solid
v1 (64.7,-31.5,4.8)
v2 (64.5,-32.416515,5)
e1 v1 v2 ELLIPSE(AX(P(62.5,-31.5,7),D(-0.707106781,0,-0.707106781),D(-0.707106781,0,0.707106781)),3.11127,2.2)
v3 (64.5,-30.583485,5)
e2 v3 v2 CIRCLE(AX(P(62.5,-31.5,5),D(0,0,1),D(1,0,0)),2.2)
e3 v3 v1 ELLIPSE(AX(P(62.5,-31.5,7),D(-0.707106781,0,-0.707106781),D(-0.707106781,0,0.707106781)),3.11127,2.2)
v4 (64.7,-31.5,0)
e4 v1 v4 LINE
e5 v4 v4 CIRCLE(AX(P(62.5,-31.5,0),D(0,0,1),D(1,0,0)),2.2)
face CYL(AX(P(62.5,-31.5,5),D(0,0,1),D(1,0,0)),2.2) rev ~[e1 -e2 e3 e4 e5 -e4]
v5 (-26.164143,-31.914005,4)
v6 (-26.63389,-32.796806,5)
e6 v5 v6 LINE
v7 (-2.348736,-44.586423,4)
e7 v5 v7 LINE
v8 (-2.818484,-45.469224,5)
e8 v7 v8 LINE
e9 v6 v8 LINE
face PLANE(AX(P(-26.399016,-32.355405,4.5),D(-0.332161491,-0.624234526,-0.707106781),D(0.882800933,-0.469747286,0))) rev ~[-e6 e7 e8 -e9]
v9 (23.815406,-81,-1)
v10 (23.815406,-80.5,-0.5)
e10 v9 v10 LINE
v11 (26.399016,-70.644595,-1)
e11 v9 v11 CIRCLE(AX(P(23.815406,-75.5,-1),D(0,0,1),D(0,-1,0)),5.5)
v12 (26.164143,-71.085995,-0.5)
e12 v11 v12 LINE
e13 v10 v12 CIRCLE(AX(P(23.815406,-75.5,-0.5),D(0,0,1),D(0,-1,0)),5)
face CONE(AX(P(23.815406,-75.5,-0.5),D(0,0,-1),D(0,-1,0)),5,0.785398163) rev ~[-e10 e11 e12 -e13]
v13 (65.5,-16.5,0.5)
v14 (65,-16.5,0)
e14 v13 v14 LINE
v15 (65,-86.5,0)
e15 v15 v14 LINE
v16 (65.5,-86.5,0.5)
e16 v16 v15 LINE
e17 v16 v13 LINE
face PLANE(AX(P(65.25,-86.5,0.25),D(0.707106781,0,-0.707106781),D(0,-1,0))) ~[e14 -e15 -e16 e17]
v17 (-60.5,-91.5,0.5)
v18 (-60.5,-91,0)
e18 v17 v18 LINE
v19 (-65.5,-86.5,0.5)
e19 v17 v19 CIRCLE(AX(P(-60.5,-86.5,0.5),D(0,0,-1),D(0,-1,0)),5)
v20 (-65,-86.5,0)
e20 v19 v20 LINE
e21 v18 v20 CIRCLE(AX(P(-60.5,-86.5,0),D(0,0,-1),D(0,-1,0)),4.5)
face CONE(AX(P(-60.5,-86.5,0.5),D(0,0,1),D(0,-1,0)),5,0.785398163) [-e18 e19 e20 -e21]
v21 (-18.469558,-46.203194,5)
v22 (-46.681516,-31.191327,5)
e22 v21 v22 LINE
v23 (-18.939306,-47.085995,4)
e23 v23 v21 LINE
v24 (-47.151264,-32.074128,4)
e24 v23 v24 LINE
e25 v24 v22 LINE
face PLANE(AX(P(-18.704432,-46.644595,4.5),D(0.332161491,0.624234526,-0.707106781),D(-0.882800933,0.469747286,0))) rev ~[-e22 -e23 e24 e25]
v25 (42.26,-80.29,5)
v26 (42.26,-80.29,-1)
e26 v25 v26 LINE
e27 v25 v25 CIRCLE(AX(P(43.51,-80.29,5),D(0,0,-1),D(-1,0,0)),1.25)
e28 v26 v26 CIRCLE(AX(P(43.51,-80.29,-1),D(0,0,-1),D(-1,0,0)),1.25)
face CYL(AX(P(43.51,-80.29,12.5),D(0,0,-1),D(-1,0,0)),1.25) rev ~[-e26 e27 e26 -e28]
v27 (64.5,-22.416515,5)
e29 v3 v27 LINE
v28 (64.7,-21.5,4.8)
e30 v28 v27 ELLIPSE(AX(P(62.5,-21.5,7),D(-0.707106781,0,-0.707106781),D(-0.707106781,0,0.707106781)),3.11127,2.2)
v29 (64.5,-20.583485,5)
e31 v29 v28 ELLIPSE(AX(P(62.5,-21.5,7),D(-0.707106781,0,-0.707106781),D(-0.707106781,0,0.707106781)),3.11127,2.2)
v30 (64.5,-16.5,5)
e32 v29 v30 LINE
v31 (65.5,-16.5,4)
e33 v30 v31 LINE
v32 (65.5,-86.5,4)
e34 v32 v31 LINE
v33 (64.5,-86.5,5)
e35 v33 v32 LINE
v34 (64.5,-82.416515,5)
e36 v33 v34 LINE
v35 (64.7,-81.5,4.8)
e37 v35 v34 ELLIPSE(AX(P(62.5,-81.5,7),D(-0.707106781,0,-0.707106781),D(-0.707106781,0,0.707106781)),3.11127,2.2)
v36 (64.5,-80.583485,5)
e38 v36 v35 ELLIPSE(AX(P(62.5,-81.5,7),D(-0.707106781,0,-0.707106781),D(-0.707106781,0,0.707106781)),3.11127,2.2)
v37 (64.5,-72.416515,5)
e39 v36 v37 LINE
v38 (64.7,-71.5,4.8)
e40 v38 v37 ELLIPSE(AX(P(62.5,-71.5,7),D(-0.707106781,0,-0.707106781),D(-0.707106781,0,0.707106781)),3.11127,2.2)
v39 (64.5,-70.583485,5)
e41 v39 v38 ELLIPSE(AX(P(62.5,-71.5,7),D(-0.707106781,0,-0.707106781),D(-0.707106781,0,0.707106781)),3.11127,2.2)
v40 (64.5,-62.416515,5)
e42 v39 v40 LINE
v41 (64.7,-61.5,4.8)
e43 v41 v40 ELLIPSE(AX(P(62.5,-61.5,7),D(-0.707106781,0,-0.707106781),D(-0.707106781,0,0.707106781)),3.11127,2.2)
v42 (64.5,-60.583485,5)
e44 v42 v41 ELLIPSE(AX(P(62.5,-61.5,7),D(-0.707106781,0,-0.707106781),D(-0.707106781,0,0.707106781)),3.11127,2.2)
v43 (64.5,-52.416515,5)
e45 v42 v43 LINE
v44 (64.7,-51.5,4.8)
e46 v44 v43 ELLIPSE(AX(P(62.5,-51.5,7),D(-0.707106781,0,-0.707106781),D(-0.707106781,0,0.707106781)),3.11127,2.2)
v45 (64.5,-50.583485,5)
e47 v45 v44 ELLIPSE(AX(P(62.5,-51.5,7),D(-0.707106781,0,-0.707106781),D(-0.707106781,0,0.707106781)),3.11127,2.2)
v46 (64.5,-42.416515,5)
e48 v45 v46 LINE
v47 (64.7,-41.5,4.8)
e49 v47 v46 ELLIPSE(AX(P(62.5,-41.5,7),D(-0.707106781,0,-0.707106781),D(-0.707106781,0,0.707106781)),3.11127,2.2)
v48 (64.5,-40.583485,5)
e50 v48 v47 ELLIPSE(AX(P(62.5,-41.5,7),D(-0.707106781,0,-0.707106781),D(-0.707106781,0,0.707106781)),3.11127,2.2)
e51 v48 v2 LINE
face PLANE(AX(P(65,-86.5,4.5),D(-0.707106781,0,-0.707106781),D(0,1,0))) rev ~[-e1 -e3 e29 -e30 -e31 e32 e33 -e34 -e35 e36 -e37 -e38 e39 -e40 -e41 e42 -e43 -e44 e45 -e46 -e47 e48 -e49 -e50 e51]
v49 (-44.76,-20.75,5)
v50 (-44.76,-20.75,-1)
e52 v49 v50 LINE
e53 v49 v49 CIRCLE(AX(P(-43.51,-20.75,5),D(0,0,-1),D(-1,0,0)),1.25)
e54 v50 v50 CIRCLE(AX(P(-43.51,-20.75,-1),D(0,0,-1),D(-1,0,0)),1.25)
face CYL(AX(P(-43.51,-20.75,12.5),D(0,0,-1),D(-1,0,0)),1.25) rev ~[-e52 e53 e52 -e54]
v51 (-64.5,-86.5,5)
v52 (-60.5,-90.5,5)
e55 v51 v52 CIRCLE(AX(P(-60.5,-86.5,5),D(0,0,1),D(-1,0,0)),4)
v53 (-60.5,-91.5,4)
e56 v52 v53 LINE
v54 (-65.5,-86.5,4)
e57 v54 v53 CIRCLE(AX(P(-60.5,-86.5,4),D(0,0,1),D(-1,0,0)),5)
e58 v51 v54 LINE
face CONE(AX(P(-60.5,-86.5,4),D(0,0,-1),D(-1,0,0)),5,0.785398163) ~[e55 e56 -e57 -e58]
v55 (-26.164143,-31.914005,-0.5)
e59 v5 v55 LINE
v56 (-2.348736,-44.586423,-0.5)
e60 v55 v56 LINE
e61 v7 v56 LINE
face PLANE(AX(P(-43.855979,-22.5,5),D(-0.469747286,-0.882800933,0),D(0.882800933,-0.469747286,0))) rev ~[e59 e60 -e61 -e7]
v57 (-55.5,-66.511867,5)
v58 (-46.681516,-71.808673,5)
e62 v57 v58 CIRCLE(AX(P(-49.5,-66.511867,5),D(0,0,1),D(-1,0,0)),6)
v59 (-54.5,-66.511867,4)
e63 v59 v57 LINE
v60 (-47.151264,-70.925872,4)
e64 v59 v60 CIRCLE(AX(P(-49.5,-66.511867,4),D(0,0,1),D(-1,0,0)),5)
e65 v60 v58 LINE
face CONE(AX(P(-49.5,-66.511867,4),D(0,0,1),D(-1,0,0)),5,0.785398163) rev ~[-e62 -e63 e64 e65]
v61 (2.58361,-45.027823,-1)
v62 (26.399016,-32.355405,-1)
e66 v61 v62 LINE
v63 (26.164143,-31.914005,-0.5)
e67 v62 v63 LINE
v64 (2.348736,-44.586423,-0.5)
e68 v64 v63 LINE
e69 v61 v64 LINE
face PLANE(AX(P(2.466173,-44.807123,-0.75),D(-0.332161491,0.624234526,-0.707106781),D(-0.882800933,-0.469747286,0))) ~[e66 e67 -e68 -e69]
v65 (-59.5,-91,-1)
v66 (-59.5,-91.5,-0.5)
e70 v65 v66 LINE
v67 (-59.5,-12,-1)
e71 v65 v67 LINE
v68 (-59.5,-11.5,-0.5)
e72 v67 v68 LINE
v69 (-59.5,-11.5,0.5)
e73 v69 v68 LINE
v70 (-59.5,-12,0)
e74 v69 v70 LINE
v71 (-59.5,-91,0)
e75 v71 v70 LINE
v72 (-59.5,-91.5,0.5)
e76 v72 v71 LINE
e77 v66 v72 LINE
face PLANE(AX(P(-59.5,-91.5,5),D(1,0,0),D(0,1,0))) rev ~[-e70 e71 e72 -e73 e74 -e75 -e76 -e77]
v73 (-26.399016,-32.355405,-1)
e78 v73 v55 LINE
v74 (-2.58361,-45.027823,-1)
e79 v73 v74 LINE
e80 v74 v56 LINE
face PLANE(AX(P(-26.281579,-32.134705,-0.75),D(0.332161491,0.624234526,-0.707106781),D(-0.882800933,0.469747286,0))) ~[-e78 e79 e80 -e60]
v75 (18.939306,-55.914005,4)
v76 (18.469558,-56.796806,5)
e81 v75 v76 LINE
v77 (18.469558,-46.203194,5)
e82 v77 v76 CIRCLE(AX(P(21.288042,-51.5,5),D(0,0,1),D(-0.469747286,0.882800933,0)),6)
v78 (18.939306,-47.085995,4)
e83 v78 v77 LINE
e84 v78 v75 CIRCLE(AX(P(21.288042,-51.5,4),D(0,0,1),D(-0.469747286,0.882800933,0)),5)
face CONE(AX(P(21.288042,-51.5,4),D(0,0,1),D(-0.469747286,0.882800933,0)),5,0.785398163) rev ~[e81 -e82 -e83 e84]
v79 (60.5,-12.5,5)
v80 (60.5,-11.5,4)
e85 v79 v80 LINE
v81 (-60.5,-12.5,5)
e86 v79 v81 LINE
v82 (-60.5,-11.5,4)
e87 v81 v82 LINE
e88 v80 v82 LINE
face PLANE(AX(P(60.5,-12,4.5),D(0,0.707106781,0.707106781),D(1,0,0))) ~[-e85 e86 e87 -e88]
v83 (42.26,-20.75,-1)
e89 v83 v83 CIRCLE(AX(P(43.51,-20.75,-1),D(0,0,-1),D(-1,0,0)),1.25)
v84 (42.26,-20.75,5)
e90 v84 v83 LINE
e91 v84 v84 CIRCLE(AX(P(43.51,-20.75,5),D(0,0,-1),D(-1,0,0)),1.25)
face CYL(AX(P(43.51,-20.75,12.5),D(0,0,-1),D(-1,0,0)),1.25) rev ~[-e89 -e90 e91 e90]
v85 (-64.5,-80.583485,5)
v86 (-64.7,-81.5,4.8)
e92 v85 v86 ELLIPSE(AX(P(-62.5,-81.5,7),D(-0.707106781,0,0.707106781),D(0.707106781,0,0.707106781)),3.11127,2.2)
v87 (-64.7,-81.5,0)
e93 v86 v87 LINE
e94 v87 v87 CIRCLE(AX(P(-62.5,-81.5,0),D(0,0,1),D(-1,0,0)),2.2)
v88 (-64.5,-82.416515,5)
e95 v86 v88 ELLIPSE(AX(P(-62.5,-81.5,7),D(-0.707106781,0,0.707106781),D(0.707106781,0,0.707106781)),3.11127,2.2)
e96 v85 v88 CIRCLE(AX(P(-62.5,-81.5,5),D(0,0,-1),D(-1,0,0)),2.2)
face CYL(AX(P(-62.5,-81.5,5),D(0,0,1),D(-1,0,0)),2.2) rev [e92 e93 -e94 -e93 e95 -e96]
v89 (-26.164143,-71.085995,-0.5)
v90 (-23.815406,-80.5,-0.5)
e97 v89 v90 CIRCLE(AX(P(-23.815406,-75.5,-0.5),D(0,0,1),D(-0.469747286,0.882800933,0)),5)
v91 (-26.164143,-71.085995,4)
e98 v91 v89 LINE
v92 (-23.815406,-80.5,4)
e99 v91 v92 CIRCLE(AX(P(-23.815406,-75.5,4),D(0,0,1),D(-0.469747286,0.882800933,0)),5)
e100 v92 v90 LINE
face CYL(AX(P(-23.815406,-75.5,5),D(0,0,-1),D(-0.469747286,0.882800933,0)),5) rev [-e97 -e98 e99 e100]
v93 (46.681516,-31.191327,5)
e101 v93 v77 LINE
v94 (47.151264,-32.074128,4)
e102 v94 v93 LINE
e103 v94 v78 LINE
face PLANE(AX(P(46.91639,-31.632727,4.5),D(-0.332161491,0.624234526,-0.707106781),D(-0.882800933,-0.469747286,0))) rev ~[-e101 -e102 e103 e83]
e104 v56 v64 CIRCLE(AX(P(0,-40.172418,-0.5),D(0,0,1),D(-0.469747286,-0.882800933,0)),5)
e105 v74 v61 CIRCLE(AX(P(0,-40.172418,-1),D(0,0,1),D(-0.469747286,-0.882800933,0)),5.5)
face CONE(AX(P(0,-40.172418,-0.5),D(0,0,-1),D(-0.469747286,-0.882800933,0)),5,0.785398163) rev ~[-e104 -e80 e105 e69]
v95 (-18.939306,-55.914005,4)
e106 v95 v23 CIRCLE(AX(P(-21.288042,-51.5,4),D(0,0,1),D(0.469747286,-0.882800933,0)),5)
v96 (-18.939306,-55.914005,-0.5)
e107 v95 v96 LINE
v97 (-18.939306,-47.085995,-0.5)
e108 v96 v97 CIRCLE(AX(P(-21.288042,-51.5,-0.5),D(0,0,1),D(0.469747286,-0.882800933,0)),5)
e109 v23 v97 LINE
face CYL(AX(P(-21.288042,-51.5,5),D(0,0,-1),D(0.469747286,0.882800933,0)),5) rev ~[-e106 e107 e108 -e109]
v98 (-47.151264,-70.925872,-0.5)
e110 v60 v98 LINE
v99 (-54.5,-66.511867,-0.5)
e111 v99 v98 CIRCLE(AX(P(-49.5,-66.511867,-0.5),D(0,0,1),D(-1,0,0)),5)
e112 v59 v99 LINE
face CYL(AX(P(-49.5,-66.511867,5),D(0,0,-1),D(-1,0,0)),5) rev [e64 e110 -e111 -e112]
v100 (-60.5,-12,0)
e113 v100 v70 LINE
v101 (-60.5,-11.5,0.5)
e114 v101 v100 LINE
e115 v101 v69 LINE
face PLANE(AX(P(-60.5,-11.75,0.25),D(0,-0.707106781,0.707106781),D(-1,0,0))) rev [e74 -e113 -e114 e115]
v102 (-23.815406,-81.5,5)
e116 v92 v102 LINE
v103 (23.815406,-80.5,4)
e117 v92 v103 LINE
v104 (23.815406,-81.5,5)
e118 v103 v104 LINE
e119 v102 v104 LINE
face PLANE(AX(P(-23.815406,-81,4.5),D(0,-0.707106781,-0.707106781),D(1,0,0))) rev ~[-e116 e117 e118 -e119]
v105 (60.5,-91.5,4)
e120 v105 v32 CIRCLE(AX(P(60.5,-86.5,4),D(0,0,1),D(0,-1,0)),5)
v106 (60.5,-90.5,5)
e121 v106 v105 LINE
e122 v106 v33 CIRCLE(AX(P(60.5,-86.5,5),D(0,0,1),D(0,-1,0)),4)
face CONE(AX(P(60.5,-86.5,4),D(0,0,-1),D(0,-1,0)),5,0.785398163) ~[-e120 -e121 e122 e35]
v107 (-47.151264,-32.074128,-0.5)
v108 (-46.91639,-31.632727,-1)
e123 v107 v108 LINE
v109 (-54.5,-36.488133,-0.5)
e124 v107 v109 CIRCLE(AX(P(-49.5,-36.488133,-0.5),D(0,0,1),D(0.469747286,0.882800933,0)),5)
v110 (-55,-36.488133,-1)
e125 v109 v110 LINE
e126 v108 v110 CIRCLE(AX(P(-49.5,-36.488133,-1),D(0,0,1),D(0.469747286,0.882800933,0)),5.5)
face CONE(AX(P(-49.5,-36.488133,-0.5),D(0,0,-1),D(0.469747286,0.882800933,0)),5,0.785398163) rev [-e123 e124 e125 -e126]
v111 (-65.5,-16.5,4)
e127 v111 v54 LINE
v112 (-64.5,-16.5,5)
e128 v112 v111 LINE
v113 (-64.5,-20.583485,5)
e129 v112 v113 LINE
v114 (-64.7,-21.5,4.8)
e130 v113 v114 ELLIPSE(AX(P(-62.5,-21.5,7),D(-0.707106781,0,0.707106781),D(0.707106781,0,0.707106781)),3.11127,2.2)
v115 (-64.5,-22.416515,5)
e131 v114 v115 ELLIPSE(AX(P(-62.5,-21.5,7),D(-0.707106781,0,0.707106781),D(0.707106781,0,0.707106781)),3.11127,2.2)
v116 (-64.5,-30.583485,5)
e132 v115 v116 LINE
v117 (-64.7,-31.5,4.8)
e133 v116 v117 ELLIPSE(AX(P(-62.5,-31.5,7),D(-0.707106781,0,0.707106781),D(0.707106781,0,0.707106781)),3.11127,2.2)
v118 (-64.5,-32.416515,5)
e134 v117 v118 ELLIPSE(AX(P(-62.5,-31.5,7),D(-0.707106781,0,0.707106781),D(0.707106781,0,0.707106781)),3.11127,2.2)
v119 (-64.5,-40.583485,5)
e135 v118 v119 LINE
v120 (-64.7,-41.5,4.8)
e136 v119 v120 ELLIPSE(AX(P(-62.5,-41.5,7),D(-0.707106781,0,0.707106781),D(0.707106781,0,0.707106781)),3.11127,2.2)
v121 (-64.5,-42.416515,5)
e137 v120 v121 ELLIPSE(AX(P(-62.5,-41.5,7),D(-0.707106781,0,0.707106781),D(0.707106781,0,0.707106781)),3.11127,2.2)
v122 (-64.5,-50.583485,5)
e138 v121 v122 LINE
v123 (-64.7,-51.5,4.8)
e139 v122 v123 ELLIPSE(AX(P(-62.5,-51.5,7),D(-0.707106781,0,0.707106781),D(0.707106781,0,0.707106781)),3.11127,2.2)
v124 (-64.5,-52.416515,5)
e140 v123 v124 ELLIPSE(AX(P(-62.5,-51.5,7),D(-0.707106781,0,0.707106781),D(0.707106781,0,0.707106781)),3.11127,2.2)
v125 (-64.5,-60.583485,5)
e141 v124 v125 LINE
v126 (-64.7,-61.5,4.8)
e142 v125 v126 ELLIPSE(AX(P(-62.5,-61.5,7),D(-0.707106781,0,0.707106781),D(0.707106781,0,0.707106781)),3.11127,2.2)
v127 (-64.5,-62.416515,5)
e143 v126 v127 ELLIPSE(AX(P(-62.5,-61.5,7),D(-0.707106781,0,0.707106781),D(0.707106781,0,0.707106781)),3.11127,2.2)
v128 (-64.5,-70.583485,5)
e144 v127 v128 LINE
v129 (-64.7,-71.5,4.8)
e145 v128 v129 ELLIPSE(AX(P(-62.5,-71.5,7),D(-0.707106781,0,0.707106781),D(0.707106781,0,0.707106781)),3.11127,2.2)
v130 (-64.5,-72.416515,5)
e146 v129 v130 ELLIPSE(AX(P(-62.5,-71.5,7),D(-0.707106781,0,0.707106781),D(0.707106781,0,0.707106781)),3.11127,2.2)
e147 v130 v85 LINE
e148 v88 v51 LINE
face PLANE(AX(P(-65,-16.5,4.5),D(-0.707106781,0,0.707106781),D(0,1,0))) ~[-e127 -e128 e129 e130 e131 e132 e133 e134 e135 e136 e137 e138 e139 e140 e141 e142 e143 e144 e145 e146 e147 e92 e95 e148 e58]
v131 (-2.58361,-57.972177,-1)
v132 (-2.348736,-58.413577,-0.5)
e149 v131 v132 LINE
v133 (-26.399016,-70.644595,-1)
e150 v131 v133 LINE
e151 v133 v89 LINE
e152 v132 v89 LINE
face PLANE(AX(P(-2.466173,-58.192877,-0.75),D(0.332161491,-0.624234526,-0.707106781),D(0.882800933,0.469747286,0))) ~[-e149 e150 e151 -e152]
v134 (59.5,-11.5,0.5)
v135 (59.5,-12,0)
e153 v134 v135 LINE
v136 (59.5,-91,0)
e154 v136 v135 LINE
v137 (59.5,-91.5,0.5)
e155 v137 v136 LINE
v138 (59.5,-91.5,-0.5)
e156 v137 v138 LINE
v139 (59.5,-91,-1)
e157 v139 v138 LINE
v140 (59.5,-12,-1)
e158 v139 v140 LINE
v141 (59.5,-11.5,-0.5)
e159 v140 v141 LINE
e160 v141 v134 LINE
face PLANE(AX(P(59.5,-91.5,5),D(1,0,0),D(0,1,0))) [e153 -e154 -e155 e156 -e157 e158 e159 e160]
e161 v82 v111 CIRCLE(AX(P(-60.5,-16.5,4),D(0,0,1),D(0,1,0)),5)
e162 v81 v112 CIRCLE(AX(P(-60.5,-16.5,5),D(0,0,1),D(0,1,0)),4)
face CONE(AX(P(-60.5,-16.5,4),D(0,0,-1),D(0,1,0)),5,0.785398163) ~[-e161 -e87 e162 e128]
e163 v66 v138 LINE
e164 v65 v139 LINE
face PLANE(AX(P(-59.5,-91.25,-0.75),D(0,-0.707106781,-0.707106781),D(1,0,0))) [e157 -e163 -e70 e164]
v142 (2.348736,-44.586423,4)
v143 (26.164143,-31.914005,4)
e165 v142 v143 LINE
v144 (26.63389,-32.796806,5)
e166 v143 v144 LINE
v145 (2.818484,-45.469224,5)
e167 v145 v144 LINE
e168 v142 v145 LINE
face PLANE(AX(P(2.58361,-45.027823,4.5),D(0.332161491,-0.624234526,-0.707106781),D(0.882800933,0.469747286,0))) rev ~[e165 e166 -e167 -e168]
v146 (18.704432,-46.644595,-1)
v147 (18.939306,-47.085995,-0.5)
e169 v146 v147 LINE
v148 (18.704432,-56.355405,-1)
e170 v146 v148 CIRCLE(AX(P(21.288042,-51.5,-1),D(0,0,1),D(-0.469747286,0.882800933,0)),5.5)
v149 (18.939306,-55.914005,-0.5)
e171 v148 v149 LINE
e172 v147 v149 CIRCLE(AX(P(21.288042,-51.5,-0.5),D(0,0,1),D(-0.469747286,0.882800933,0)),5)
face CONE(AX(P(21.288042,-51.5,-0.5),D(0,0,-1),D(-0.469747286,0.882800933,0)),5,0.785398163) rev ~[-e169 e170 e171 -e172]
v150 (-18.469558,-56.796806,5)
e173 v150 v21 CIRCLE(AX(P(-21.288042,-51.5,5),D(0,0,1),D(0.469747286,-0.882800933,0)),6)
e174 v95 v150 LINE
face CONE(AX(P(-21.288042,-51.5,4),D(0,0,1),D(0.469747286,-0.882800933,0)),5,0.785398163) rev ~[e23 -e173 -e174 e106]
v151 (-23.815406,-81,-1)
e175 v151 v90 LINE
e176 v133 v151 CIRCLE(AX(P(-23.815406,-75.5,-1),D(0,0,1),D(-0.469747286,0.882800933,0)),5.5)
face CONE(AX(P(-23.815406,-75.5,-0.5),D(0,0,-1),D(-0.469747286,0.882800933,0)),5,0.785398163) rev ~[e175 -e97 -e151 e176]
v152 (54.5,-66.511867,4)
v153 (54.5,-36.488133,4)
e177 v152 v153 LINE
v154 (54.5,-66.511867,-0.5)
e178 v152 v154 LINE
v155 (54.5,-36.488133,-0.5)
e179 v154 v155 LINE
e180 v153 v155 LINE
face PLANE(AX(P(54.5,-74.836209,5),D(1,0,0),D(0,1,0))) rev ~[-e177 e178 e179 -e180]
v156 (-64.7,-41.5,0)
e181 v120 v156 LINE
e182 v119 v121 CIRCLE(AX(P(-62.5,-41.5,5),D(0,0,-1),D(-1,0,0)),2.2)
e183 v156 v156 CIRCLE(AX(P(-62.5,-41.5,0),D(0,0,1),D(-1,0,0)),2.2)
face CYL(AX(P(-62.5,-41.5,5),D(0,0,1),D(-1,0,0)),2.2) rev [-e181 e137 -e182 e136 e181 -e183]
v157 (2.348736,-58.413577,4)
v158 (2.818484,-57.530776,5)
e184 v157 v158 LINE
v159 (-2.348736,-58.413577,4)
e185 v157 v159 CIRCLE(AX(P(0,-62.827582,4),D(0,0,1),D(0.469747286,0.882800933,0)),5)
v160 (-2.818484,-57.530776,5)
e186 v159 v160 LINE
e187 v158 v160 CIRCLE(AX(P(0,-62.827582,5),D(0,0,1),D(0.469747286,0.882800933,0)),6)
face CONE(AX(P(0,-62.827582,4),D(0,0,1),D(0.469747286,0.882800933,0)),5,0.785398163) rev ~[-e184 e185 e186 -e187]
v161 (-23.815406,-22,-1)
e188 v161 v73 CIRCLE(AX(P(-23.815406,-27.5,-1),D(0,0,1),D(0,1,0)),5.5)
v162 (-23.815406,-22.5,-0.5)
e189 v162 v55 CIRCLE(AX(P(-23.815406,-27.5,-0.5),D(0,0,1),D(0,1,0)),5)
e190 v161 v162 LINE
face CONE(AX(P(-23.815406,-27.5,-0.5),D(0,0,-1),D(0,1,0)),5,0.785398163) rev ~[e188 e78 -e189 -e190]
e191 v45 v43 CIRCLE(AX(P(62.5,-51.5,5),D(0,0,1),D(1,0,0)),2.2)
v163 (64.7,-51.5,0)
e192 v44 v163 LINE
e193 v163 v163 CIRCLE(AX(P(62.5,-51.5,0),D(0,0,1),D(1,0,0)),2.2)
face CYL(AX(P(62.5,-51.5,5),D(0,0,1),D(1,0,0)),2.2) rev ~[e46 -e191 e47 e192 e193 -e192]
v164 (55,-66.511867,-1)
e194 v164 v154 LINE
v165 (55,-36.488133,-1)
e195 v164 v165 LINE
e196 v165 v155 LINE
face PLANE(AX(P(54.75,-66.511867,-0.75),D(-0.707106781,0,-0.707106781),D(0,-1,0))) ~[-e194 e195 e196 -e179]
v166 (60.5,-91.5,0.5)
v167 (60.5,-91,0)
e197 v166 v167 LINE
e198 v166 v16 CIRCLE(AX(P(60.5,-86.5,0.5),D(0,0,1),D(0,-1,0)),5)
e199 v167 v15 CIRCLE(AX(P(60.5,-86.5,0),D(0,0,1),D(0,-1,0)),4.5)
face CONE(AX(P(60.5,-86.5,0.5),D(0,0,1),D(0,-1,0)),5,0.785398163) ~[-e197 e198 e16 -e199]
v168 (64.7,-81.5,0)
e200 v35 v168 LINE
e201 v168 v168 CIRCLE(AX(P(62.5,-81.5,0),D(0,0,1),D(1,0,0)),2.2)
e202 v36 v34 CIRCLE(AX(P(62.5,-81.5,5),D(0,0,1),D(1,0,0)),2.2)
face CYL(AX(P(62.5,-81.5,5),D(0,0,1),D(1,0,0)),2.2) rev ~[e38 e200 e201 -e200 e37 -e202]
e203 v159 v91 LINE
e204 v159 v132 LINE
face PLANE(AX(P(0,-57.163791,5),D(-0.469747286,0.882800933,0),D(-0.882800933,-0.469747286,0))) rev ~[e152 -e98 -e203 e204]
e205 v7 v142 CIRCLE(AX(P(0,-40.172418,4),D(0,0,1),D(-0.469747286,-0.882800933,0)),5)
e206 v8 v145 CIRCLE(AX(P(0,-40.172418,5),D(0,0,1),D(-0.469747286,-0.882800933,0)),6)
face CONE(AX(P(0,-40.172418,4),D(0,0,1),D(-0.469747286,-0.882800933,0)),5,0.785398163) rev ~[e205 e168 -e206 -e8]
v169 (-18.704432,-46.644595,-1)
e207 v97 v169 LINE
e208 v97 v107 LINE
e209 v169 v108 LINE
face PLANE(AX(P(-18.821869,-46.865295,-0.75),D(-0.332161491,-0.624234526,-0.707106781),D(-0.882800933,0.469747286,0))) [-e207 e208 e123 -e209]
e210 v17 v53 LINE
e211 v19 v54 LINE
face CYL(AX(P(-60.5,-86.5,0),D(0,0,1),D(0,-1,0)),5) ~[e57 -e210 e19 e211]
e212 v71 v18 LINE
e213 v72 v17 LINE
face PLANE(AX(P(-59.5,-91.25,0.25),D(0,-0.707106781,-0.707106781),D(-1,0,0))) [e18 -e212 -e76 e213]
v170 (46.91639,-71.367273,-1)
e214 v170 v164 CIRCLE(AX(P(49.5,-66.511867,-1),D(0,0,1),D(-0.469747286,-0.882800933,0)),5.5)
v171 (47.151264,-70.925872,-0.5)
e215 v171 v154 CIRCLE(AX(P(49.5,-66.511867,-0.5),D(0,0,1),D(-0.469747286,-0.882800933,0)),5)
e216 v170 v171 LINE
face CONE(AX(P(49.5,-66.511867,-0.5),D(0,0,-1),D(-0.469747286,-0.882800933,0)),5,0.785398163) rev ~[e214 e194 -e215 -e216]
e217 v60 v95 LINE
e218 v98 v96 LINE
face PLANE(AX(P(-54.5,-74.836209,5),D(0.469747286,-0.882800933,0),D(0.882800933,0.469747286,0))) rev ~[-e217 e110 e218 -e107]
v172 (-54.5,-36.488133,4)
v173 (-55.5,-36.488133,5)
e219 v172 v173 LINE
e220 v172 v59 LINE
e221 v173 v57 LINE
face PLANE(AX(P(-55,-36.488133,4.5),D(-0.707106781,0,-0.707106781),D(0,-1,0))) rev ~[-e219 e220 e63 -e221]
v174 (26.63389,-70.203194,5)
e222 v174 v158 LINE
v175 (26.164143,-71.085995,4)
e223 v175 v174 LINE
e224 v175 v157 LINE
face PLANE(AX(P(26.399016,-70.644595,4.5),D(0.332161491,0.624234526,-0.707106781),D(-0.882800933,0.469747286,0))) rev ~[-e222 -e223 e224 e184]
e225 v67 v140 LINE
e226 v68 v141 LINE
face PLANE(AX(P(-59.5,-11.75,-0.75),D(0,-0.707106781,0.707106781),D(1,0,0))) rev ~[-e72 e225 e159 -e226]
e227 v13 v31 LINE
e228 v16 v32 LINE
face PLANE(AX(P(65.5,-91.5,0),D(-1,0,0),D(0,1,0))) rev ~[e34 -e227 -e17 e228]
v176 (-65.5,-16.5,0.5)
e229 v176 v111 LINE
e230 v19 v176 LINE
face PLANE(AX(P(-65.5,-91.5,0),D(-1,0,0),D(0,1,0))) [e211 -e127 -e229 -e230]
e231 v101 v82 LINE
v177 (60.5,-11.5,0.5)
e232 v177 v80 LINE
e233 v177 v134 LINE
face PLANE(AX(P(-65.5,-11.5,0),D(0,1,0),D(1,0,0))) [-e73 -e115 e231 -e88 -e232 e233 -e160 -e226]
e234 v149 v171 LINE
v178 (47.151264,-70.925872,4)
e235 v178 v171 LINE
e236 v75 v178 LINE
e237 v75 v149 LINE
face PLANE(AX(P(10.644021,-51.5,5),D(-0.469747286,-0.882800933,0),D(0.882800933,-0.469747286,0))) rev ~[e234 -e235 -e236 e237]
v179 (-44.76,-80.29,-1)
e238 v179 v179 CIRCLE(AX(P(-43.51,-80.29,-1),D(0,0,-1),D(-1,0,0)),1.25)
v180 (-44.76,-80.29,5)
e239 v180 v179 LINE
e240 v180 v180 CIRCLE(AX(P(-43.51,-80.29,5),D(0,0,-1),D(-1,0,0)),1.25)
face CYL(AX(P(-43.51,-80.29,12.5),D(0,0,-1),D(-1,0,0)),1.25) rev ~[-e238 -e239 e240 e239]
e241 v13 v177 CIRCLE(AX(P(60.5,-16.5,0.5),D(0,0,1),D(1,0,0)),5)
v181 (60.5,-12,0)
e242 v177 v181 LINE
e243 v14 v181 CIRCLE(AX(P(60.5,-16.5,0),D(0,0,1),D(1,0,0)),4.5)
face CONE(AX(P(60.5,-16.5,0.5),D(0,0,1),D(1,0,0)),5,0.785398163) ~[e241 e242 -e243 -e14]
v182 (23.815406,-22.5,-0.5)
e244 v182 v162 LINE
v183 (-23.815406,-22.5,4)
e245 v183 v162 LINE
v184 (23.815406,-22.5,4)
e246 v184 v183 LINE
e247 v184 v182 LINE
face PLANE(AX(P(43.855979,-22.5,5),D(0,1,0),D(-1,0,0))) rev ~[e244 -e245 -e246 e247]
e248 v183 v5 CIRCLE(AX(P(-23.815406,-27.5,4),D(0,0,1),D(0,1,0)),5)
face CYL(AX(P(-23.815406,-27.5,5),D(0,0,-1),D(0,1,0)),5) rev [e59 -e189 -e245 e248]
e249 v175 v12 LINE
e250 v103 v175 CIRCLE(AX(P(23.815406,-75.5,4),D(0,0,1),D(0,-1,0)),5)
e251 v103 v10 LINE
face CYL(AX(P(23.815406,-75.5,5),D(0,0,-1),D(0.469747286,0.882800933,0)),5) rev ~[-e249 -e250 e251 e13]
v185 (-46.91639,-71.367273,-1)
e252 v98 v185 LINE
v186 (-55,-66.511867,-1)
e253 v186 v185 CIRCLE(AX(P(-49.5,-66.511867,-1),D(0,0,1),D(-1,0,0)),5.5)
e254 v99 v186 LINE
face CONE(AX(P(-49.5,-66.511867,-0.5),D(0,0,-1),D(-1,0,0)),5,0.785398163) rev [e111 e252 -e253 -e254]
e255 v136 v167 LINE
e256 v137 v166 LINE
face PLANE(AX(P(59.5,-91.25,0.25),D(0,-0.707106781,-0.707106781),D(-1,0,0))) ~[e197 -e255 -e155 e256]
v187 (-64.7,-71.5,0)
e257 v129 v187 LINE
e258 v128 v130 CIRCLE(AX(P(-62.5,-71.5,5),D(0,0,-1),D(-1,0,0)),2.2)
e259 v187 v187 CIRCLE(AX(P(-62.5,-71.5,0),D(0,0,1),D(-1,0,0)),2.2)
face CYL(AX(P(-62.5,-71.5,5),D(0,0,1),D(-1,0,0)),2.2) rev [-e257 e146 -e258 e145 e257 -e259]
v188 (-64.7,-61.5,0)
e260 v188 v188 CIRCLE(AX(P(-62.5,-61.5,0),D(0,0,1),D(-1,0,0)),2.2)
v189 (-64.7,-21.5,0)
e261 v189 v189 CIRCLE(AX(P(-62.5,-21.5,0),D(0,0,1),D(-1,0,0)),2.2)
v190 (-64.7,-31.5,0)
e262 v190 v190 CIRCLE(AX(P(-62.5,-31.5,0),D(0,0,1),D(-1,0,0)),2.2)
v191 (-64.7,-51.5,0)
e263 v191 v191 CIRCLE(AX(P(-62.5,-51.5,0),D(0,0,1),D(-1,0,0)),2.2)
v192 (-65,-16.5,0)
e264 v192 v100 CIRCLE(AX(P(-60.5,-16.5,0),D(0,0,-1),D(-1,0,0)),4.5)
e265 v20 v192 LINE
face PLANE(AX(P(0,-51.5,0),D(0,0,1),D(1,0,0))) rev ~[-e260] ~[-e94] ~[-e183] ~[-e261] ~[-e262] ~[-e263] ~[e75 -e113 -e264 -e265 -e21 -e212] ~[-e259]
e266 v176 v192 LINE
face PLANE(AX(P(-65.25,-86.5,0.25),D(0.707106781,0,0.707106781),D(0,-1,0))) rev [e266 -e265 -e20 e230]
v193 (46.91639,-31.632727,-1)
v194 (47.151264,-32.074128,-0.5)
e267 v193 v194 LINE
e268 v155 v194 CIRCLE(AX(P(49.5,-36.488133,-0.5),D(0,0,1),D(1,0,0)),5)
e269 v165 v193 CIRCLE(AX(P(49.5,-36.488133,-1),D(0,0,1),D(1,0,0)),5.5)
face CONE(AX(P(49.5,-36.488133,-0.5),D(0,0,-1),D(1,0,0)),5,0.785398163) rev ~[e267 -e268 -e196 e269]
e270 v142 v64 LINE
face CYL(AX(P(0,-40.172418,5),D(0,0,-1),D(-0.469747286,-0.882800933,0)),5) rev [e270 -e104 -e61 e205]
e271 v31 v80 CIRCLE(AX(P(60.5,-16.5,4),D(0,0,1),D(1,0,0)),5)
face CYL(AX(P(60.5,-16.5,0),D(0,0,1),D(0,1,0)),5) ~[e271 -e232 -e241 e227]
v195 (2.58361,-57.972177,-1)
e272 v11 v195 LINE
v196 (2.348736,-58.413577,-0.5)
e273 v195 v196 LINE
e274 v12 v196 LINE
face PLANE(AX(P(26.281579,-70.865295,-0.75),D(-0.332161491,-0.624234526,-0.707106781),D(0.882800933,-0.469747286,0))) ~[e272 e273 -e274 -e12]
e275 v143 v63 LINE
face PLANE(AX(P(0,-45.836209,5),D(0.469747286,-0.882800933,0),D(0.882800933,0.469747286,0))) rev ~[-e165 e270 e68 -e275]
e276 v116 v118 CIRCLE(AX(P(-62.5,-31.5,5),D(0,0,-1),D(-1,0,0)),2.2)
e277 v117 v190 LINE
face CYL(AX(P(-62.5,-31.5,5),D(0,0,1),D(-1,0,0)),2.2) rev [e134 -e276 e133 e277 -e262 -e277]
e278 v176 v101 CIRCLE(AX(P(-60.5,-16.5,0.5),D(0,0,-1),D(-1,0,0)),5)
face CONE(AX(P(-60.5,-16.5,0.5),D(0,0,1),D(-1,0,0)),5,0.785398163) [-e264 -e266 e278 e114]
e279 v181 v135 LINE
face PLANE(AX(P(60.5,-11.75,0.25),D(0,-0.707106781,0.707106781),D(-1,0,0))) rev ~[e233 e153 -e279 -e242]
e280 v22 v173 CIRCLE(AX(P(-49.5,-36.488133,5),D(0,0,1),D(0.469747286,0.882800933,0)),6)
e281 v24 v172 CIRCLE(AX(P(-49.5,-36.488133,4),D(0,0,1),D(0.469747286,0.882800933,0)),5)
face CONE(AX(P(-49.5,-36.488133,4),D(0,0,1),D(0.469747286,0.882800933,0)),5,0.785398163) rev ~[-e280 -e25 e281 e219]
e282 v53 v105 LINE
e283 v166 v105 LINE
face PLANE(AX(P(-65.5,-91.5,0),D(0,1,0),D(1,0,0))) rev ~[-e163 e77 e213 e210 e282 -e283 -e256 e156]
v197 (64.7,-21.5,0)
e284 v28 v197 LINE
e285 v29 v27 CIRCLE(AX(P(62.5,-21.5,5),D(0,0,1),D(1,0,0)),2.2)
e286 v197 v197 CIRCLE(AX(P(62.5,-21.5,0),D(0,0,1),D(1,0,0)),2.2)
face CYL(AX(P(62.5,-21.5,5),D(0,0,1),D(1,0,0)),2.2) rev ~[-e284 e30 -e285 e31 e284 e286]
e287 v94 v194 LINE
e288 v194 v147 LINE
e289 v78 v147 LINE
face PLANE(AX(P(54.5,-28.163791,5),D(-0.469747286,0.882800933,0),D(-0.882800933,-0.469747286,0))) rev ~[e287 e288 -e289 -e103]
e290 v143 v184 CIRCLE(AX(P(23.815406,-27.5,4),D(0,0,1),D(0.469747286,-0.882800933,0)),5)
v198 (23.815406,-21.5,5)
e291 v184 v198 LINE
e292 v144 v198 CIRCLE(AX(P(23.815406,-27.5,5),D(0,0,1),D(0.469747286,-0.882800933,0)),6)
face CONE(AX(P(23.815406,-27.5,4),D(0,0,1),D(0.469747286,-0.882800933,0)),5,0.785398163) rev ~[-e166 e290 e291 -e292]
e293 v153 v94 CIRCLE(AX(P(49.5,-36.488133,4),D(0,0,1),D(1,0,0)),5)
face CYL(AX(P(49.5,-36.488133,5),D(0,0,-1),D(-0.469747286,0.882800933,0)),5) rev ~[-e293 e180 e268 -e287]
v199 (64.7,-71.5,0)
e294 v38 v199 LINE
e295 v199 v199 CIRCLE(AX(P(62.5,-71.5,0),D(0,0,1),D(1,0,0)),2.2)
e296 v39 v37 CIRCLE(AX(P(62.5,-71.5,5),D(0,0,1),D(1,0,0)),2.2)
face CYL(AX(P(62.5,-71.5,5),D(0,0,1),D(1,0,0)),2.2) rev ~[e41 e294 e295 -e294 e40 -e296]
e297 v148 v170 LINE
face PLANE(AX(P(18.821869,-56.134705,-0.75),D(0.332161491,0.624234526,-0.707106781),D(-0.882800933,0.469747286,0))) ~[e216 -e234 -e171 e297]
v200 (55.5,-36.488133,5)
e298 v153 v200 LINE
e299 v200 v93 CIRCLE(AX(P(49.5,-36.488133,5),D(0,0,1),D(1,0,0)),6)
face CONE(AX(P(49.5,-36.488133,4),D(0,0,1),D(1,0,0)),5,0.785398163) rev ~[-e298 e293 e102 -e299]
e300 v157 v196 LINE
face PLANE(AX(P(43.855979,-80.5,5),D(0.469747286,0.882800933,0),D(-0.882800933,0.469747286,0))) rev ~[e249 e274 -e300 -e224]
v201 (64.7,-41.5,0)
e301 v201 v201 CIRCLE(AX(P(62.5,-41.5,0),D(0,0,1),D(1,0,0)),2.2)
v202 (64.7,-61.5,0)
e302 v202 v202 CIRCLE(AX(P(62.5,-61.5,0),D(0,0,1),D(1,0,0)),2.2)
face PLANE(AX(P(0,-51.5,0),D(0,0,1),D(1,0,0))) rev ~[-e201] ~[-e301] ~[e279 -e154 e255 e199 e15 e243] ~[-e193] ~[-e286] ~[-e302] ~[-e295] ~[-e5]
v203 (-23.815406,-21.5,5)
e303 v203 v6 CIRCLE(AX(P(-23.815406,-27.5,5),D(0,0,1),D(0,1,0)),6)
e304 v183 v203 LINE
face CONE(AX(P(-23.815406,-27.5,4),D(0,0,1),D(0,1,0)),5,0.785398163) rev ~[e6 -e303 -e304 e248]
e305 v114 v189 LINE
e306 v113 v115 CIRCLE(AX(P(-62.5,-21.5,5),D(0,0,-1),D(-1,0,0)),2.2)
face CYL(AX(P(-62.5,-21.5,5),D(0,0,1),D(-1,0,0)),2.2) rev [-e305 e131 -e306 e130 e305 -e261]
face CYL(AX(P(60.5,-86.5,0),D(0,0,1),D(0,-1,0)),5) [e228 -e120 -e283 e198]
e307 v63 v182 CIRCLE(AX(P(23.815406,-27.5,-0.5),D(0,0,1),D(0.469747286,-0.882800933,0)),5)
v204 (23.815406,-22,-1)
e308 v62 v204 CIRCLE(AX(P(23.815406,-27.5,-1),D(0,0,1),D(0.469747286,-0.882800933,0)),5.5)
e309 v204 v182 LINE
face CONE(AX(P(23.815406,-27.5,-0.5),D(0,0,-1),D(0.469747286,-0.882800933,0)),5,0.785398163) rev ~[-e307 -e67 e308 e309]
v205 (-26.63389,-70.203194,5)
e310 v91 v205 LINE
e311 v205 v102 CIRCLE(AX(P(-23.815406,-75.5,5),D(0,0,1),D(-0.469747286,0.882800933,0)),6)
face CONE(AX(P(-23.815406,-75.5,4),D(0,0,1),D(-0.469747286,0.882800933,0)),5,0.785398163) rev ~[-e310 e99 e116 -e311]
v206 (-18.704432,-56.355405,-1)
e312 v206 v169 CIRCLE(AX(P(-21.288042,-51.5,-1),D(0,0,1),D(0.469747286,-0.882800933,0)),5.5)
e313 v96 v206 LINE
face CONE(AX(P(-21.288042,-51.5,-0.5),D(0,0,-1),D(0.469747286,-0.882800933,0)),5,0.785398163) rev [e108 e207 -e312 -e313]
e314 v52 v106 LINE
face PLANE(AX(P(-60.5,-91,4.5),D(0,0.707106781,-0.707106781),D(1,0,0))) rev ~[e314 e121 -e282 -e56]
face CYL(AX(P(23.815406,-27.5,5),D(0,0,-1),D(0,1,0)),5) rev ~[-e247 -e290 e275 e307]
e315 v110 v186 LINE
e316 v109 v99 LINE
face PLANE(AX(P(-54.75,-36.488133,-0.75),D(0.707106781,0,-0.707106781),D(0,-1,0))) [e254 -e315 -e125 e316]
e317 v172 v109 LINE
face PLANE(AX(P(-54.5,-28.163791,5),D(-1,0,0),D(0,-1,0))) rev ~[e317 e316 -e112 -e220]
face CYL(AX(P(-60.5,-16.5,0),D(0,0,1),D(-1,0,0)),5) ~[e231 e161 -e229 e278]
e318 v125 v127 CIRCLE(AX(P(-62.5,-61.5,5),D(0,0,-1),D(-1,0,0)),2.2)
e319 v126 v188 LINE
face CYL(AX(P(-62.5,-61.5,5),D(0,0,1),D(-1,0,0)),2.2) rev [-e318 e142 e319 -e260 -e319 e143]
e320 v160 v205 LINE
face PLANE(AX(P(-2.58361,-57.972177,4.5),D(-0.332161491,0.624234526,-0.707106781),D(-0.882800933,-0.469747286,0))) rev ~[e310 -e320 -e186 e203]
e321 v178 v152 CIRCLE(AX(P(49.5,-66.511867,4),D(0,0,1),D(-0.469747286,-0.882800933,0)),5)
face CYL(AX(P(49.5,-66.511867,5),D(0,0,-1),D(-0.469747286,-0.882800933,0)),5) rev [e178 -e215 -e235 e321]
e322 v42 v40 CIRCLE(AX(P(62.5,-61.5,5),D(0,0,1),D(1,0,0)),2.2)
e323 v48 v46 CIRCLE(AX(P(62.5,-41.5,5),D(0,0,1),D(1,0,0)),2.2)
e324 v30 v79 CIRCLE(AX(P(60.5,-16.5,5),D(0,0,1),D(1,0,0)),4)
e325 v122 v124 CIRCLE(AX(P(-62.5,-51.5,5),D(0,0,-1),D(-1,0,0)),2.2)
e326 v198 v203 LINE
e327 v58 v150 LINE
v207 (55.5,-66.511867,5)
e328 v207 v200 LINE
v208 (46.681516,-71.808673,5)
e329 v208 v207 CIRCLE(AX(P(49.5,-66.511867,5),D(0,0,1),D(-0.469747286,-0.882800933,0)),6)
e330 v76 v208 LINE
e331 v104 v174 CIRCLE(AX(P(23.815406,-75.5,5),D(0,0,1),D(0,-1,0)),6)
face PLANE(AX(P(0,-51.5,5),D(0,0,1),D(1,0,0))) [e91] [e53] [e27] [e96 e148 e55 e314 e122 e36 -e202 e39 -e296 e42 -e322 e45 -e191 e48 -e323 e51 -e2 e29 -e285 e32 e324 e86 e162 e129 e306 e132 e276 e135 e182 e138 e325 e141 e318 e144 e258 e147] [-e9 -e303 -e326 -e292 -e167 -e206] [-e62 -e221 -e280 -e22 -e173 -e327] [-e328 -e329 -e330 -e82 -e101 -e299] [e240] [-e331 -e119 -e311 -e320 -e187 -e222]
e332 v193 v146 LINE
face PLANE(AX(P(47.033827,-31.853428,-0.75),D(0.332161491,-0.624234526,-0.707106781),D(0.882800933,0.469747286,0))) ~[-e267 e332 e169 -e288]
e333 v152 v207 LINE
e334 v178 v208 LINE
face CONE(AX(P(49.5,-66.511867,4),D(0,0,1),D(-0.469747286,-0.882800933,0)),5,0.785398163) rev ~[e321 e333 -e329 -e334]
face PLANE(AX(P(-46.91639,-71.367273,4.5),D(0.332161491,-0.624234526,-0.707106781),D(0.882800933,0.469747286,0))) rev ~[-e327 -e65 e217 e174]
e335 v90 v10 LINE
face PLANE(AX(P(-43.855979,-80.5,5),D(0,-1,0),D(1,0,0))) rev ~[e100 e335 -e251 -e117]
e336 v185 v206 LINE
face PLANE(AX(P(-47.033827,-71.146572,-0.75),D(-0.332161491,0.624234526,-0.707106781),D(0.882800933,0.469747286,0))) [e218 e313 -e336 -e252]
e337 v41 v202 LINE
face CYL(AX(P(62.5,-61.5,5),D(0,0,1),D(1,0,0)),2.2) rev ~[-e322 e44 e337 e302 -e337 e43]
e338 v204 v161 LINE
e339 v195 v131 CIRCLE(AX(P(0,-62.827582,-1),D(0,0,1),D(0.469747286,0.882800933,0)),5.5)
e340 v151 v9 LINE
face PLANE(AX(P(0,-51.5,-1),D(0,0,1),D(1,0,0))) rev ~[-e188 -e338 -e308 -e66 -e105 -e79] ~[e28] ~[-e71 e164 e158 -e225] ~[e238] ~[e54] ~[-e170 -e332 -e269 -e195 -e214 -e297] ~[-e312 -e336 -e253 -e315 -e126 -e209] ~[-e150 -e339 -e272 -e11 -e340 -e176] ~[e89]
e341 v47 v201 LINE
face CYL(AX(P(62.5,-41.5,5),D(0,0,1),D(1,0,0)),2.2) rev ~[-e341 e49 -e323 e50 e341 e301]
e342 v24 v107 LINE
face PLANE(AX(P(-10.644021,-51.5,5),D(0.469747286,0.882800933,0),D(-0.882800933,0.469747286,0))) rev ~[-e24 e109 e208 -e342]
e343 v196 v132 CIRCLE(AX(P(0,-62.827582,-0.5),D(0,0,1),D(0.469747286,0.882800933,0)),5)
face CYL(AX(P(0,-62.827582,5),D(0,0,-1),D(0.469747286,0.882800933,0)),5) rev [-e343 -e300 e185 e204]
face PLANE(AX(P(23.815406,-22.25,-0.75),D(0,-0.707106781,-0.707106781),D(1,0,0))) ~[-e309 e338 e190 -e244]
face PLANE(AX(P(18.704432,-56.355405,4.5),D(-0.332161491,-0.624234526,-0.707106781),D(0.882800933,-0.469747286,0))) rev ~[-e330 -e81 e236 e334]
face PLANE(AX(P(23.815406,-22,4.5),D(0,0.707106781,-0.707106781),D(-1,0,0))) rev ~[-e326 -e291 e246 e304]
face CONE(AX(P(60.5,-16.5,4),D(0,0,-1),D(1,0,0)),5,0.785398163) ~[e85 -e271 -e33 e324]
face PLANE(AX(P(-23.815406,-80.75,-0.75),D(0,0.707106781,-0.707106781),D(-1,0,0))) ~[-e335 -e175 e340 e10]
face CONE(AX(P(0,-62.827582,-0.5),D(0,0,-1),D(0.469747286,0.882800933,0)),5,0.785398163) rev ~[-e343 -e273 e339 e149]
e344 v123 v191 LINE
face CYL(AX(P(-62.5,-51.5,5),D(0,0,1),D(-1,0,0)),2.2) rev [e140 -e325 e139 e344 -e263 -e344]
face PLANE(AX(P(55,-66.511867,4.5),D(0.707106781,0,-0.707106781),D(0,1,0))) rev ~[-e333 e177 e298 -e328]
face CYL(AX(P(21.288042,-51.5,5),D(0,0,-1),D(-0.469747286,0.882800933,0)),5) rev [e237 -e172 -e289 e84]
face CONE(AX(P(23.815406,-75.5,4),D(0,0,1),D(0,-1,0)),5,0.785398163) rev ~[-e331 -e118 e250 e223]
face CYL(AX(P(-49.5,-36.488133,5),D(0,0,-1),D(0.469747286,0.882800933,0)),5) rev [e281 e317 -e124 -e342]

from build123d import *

# Parameters (mm, degrees)
SKETCH_3_W             = 131
SKETCH_3_H             = 80
EXTRUDE_3_DEPTH        = 5
SKETCH_4_W             = 119
SKETCH_4_H             = 80
EXTRUDE_4_DEPTH        = 6
FILLET_2_R             = 5
CHAMFER_1_SIZE         = 1
CUT_EXTRUDE_1_DEPTH    = 6
FILLET_3_R             = 5
CHAMFER_2_SIZE         = 1
SKETCH_6_R             = 2.2
CUT_EXTRUDE_2_DEPTH    = 11
HOLE_WIZARD_M3_1_D     = 2.5
HOLE_WIZARD_M3_1_DEPTH = 7.5
HOLE_WIZARD_M3_1_TIP   = 0.751075774
CHAMFER_3_SIZE         = 0.5


with BuildPart() as part:
    # 草图3 → 凸台-拉伸3 (new body)
    with BuildSketch(Plane.XY):
        with Locations((0, -51.5)):
            Rectangle(SKETCH_3_W, SKETCH_3_H)
    extrude(amount=EXTRUDE_3_DEPTH)

    # 草图4 → 凸台-拉伸4 (add)
    with BuildSketch(Plane.XY.offset(5)):
        with Locations((0, -51.5)):
            Rectangle(SKETCH_4_W, SKETCH_4_H)
    extrude(amount=-EXTRUDE_4_DEPTH)

    # 圆角2
    fillet_2_edges = [part.edges().sort_by_distance(p)[0] for p in [
        (-65.5, -11.5, 2.5),
        (65.5, -11.5, 2.5),
        (65.5, -91.5, 2.5),
        (-65.5, -91.5, 2.5),
    ]]
    fillet(fillet_2_edges, radius=FILLET_2_R)

    # 倒角1
    chamfer_1_edges = [part.edges().sort_by_distance(p)[0] for p in [
        (0, -11.5, 5),
        (65.5, -51.5, 5),
        (0, -91.5, 5),
        (-65.5, -51.5, 5),
        (64.035533906, -90.035533906, 5),
        (-64.035533906, -90.035533906, 5),
        (-64.035533906, -12.964466094, 5),
        (64.035533906, -12.964466094, 5),
    ]]
    chamfer(chamfer_1_edges, length=CHAMFER_1_SIZE)

    # 草图5 → 切除-拉伸1 (cut)
    with BuildSketch(Plane.XY.offset(5)):
        Polygon((-10.644021059, -51.5), (-54.5, -28.163791023), (-54.5, -74.836208978), align=None)
        Polygon((43.855978941, -22.5), (-43.855978941, -22.5), (0, -45.836208978), align=None)
        Polygon((54.5, -28.163791023), (10.644021059, -51.5), (54.5, -74.836208978), align=None)
        Polygon((43.855978941, -80.5), (0, -57.163791023), (-43.855978941, -80.5), align=None)
    extrude(amount=-CUT_EXTRUDE_1_DEPTH, mode=Mode.SUBTRACT)

    # 圆角3
    fillet_3_edges = [part.edges().sort_by_distance(p)[0] for p in [
        (10.644021059, -51.5, 2),
        (54.5, -28.163791023, 2),
        (54.5, -74.836208978, 2),
        (-43.855978941, -22.5, 2),
        (43.855978941, -22.5, 2),
        (0, -45.836208978, 2),
        (-43.855978941, -80.5, 2),
        (0, -57.163791023, 2),
        (43.855978941, -80.5, 2),
        (-54.5, -74.836208978, 2),
        (-54.5, -28.163791023, 2),
        (-10.644021059, -51.5, 2),
    ]]
    fillet(fillet_3_edges, radius=FILLET_3_R)

    # 倒角2
    chamfer_2_edges = [part.edges().sort_by_distance(p)[0] for p in [
        (33.045284631, -39.580061586, 5),
        (54.5, -51.5, 5),
        (33.045284631, -63.419938415, 5),
        (14.256439507, -38.250213644, 5),
        (-14.256439507, -38.250213644, 5),
        (0, -22.5, 5),
        (-33.045284631, -39.580061586, 5),
        (-33.045284631, -63.419938415, 5),
        (-54.5, -51.5, 5),
        (-14.256439507, -64.749786356, 5),
        (14.256439507, -64.749786356, 5),
        (0, -80.5, 5),
        (52.074521107, -32.201893935, 5),
        (52.074521107, -70.798106066, 5),
        (16.288042118, -51.5, 5),
        (0, -45.172417956, 5),
        (-28.666695849, -26.289632976, 5),
        (28.666695849, -26.289632976, 5),
        (-16.288042118, -51.5, 5),
        (-52.074521107, -70.798106066, 5),
        (-52.074521107, -32.201893935, 5),
        (0, -57.827582045, 5),
        (28.666695849, -76.710367025, 5),
        (-28.666695849, -76.710367025, 5),
    ]]
    chamfer(chamfer_2_edges, length=CHAMFER_2_SIZE)

    # 草图6 → 切除-拉伸2 (cut)
    with BuildSketch(Plane.XY.offset(5)):
        with Locations((62.5, -21.5)):
            Circle(SKETCH_6_R)
        with Locations((62.5, -31.5)):
            Circle(SKETCH_6_R)
        with Locations((62.5, -41.5)):
            Circle(SKETCH_6_R)
        with Locations((62.5, -51.5)):
            Circle(SKETCH_6_R)
        with Locations((62.5, -61.5)):
            Circle(SKETCH_6_R)
        with Locations((62.5, -71.5)):
            Circle(SKETCH_6_R)
        with Locations((62.5, -81.5)):
            Circle(SKETCH_6_R)
    cut_extrude_2 = extrude(amount=-CUT_EXTRUDE_2_DEPTH, mode=Mode.SUBTRACT)

    # 镜向1: 切除-拉伸2 across plane
    add(cut_extrude_2.mirror(Plane(origin=(0, 0, 0), x_dir=(0, 0, 1), z_dir=(1, 0, 0))), mode=Mode.SUBTRACT)

    # M3 螺纹孔1
    with Locations(Plane.XY.offset(5)):
        with Locations((-43.51, -20.75), (43.51, -20.75), (43.51, -80.29), (-43.51, -80.29)):
            Hole(HOLE_WIZARD_M3_1_D / 2, depth=HOLE_WIZARD_M3_1_DEPTH)
            with Locations((0, 0, -(HOLE_WIZARD_M3_1_DEPTH + HOLE_WIZARD_M3_1_TIP / 2))):  # 118° drill point
                Cone(0, HOLE_WIZARD_M3_1_D / 2, HOLE_WIZARD_M3_1_TIP, mode=Mode.SUBTRACT)

    # 倒角3
    chamfer_3_edges = [part.edges().sort_by_distance(p)[0] for p in [
        (33.045284631, -39.580061586, -1),
        (54.5, -51.5, -1),
        (33.045284631, -63.419938415, -1),
        (14.256439507, -38.250213644, -1),
        (-60, -11.5, 0),
        (-14.256439507, -38.250213644, -1),
        (0, -22.5, -1),
        (60, -91.5, 0),
        (-33.045284631, -39.580061586, -1),
        (-33.045284631, -63.419938415, -1),
        (-54.5, -51.5, -1),
        (-14.256439507, -64.749786356, -1),
        (14.256439507, -64.749786356, -1),
        (0, -80.5, -1),
        (52.074521107, -32.201893935, -1),
        (52.074521107, -70.798106066, -1),
        (16.288042118, -51.5, -1),
        (0, -45.172417956, -1),
        (-28.666695849, -26.289632976, -1),
        (28.666695849, -26.289632976, -1),
        (-16.288042118, -51.5, -1),
        (-52.074521107, -70.798106066, -1),
        (-52.074521107, -32.201893935, -1),
        (0, -57.827582045, -1),
        (28.666695849, -76.710367025, -1),
        (-28.666695849, -76.710367025, -1),
        (0, -91.5, -1),
        (0, -11.5, -1),
        (60, -11.5, 0),
        (65.5, -51.5, 0),
        (64.035533906, -90.035533906, 0),
        (64.035533906, -12.964466094, 0),
        (-65.5, -51.5, 0),
        (-60, -91.5, 0),
        (-64.035533906, -90.035533906, 0),
        (-64.035533906, -12.964466094, 0),
    ]]
    chamfer(chamfer_3_edges, length=CHAMFER_3_SIZE)


solid = part.part
